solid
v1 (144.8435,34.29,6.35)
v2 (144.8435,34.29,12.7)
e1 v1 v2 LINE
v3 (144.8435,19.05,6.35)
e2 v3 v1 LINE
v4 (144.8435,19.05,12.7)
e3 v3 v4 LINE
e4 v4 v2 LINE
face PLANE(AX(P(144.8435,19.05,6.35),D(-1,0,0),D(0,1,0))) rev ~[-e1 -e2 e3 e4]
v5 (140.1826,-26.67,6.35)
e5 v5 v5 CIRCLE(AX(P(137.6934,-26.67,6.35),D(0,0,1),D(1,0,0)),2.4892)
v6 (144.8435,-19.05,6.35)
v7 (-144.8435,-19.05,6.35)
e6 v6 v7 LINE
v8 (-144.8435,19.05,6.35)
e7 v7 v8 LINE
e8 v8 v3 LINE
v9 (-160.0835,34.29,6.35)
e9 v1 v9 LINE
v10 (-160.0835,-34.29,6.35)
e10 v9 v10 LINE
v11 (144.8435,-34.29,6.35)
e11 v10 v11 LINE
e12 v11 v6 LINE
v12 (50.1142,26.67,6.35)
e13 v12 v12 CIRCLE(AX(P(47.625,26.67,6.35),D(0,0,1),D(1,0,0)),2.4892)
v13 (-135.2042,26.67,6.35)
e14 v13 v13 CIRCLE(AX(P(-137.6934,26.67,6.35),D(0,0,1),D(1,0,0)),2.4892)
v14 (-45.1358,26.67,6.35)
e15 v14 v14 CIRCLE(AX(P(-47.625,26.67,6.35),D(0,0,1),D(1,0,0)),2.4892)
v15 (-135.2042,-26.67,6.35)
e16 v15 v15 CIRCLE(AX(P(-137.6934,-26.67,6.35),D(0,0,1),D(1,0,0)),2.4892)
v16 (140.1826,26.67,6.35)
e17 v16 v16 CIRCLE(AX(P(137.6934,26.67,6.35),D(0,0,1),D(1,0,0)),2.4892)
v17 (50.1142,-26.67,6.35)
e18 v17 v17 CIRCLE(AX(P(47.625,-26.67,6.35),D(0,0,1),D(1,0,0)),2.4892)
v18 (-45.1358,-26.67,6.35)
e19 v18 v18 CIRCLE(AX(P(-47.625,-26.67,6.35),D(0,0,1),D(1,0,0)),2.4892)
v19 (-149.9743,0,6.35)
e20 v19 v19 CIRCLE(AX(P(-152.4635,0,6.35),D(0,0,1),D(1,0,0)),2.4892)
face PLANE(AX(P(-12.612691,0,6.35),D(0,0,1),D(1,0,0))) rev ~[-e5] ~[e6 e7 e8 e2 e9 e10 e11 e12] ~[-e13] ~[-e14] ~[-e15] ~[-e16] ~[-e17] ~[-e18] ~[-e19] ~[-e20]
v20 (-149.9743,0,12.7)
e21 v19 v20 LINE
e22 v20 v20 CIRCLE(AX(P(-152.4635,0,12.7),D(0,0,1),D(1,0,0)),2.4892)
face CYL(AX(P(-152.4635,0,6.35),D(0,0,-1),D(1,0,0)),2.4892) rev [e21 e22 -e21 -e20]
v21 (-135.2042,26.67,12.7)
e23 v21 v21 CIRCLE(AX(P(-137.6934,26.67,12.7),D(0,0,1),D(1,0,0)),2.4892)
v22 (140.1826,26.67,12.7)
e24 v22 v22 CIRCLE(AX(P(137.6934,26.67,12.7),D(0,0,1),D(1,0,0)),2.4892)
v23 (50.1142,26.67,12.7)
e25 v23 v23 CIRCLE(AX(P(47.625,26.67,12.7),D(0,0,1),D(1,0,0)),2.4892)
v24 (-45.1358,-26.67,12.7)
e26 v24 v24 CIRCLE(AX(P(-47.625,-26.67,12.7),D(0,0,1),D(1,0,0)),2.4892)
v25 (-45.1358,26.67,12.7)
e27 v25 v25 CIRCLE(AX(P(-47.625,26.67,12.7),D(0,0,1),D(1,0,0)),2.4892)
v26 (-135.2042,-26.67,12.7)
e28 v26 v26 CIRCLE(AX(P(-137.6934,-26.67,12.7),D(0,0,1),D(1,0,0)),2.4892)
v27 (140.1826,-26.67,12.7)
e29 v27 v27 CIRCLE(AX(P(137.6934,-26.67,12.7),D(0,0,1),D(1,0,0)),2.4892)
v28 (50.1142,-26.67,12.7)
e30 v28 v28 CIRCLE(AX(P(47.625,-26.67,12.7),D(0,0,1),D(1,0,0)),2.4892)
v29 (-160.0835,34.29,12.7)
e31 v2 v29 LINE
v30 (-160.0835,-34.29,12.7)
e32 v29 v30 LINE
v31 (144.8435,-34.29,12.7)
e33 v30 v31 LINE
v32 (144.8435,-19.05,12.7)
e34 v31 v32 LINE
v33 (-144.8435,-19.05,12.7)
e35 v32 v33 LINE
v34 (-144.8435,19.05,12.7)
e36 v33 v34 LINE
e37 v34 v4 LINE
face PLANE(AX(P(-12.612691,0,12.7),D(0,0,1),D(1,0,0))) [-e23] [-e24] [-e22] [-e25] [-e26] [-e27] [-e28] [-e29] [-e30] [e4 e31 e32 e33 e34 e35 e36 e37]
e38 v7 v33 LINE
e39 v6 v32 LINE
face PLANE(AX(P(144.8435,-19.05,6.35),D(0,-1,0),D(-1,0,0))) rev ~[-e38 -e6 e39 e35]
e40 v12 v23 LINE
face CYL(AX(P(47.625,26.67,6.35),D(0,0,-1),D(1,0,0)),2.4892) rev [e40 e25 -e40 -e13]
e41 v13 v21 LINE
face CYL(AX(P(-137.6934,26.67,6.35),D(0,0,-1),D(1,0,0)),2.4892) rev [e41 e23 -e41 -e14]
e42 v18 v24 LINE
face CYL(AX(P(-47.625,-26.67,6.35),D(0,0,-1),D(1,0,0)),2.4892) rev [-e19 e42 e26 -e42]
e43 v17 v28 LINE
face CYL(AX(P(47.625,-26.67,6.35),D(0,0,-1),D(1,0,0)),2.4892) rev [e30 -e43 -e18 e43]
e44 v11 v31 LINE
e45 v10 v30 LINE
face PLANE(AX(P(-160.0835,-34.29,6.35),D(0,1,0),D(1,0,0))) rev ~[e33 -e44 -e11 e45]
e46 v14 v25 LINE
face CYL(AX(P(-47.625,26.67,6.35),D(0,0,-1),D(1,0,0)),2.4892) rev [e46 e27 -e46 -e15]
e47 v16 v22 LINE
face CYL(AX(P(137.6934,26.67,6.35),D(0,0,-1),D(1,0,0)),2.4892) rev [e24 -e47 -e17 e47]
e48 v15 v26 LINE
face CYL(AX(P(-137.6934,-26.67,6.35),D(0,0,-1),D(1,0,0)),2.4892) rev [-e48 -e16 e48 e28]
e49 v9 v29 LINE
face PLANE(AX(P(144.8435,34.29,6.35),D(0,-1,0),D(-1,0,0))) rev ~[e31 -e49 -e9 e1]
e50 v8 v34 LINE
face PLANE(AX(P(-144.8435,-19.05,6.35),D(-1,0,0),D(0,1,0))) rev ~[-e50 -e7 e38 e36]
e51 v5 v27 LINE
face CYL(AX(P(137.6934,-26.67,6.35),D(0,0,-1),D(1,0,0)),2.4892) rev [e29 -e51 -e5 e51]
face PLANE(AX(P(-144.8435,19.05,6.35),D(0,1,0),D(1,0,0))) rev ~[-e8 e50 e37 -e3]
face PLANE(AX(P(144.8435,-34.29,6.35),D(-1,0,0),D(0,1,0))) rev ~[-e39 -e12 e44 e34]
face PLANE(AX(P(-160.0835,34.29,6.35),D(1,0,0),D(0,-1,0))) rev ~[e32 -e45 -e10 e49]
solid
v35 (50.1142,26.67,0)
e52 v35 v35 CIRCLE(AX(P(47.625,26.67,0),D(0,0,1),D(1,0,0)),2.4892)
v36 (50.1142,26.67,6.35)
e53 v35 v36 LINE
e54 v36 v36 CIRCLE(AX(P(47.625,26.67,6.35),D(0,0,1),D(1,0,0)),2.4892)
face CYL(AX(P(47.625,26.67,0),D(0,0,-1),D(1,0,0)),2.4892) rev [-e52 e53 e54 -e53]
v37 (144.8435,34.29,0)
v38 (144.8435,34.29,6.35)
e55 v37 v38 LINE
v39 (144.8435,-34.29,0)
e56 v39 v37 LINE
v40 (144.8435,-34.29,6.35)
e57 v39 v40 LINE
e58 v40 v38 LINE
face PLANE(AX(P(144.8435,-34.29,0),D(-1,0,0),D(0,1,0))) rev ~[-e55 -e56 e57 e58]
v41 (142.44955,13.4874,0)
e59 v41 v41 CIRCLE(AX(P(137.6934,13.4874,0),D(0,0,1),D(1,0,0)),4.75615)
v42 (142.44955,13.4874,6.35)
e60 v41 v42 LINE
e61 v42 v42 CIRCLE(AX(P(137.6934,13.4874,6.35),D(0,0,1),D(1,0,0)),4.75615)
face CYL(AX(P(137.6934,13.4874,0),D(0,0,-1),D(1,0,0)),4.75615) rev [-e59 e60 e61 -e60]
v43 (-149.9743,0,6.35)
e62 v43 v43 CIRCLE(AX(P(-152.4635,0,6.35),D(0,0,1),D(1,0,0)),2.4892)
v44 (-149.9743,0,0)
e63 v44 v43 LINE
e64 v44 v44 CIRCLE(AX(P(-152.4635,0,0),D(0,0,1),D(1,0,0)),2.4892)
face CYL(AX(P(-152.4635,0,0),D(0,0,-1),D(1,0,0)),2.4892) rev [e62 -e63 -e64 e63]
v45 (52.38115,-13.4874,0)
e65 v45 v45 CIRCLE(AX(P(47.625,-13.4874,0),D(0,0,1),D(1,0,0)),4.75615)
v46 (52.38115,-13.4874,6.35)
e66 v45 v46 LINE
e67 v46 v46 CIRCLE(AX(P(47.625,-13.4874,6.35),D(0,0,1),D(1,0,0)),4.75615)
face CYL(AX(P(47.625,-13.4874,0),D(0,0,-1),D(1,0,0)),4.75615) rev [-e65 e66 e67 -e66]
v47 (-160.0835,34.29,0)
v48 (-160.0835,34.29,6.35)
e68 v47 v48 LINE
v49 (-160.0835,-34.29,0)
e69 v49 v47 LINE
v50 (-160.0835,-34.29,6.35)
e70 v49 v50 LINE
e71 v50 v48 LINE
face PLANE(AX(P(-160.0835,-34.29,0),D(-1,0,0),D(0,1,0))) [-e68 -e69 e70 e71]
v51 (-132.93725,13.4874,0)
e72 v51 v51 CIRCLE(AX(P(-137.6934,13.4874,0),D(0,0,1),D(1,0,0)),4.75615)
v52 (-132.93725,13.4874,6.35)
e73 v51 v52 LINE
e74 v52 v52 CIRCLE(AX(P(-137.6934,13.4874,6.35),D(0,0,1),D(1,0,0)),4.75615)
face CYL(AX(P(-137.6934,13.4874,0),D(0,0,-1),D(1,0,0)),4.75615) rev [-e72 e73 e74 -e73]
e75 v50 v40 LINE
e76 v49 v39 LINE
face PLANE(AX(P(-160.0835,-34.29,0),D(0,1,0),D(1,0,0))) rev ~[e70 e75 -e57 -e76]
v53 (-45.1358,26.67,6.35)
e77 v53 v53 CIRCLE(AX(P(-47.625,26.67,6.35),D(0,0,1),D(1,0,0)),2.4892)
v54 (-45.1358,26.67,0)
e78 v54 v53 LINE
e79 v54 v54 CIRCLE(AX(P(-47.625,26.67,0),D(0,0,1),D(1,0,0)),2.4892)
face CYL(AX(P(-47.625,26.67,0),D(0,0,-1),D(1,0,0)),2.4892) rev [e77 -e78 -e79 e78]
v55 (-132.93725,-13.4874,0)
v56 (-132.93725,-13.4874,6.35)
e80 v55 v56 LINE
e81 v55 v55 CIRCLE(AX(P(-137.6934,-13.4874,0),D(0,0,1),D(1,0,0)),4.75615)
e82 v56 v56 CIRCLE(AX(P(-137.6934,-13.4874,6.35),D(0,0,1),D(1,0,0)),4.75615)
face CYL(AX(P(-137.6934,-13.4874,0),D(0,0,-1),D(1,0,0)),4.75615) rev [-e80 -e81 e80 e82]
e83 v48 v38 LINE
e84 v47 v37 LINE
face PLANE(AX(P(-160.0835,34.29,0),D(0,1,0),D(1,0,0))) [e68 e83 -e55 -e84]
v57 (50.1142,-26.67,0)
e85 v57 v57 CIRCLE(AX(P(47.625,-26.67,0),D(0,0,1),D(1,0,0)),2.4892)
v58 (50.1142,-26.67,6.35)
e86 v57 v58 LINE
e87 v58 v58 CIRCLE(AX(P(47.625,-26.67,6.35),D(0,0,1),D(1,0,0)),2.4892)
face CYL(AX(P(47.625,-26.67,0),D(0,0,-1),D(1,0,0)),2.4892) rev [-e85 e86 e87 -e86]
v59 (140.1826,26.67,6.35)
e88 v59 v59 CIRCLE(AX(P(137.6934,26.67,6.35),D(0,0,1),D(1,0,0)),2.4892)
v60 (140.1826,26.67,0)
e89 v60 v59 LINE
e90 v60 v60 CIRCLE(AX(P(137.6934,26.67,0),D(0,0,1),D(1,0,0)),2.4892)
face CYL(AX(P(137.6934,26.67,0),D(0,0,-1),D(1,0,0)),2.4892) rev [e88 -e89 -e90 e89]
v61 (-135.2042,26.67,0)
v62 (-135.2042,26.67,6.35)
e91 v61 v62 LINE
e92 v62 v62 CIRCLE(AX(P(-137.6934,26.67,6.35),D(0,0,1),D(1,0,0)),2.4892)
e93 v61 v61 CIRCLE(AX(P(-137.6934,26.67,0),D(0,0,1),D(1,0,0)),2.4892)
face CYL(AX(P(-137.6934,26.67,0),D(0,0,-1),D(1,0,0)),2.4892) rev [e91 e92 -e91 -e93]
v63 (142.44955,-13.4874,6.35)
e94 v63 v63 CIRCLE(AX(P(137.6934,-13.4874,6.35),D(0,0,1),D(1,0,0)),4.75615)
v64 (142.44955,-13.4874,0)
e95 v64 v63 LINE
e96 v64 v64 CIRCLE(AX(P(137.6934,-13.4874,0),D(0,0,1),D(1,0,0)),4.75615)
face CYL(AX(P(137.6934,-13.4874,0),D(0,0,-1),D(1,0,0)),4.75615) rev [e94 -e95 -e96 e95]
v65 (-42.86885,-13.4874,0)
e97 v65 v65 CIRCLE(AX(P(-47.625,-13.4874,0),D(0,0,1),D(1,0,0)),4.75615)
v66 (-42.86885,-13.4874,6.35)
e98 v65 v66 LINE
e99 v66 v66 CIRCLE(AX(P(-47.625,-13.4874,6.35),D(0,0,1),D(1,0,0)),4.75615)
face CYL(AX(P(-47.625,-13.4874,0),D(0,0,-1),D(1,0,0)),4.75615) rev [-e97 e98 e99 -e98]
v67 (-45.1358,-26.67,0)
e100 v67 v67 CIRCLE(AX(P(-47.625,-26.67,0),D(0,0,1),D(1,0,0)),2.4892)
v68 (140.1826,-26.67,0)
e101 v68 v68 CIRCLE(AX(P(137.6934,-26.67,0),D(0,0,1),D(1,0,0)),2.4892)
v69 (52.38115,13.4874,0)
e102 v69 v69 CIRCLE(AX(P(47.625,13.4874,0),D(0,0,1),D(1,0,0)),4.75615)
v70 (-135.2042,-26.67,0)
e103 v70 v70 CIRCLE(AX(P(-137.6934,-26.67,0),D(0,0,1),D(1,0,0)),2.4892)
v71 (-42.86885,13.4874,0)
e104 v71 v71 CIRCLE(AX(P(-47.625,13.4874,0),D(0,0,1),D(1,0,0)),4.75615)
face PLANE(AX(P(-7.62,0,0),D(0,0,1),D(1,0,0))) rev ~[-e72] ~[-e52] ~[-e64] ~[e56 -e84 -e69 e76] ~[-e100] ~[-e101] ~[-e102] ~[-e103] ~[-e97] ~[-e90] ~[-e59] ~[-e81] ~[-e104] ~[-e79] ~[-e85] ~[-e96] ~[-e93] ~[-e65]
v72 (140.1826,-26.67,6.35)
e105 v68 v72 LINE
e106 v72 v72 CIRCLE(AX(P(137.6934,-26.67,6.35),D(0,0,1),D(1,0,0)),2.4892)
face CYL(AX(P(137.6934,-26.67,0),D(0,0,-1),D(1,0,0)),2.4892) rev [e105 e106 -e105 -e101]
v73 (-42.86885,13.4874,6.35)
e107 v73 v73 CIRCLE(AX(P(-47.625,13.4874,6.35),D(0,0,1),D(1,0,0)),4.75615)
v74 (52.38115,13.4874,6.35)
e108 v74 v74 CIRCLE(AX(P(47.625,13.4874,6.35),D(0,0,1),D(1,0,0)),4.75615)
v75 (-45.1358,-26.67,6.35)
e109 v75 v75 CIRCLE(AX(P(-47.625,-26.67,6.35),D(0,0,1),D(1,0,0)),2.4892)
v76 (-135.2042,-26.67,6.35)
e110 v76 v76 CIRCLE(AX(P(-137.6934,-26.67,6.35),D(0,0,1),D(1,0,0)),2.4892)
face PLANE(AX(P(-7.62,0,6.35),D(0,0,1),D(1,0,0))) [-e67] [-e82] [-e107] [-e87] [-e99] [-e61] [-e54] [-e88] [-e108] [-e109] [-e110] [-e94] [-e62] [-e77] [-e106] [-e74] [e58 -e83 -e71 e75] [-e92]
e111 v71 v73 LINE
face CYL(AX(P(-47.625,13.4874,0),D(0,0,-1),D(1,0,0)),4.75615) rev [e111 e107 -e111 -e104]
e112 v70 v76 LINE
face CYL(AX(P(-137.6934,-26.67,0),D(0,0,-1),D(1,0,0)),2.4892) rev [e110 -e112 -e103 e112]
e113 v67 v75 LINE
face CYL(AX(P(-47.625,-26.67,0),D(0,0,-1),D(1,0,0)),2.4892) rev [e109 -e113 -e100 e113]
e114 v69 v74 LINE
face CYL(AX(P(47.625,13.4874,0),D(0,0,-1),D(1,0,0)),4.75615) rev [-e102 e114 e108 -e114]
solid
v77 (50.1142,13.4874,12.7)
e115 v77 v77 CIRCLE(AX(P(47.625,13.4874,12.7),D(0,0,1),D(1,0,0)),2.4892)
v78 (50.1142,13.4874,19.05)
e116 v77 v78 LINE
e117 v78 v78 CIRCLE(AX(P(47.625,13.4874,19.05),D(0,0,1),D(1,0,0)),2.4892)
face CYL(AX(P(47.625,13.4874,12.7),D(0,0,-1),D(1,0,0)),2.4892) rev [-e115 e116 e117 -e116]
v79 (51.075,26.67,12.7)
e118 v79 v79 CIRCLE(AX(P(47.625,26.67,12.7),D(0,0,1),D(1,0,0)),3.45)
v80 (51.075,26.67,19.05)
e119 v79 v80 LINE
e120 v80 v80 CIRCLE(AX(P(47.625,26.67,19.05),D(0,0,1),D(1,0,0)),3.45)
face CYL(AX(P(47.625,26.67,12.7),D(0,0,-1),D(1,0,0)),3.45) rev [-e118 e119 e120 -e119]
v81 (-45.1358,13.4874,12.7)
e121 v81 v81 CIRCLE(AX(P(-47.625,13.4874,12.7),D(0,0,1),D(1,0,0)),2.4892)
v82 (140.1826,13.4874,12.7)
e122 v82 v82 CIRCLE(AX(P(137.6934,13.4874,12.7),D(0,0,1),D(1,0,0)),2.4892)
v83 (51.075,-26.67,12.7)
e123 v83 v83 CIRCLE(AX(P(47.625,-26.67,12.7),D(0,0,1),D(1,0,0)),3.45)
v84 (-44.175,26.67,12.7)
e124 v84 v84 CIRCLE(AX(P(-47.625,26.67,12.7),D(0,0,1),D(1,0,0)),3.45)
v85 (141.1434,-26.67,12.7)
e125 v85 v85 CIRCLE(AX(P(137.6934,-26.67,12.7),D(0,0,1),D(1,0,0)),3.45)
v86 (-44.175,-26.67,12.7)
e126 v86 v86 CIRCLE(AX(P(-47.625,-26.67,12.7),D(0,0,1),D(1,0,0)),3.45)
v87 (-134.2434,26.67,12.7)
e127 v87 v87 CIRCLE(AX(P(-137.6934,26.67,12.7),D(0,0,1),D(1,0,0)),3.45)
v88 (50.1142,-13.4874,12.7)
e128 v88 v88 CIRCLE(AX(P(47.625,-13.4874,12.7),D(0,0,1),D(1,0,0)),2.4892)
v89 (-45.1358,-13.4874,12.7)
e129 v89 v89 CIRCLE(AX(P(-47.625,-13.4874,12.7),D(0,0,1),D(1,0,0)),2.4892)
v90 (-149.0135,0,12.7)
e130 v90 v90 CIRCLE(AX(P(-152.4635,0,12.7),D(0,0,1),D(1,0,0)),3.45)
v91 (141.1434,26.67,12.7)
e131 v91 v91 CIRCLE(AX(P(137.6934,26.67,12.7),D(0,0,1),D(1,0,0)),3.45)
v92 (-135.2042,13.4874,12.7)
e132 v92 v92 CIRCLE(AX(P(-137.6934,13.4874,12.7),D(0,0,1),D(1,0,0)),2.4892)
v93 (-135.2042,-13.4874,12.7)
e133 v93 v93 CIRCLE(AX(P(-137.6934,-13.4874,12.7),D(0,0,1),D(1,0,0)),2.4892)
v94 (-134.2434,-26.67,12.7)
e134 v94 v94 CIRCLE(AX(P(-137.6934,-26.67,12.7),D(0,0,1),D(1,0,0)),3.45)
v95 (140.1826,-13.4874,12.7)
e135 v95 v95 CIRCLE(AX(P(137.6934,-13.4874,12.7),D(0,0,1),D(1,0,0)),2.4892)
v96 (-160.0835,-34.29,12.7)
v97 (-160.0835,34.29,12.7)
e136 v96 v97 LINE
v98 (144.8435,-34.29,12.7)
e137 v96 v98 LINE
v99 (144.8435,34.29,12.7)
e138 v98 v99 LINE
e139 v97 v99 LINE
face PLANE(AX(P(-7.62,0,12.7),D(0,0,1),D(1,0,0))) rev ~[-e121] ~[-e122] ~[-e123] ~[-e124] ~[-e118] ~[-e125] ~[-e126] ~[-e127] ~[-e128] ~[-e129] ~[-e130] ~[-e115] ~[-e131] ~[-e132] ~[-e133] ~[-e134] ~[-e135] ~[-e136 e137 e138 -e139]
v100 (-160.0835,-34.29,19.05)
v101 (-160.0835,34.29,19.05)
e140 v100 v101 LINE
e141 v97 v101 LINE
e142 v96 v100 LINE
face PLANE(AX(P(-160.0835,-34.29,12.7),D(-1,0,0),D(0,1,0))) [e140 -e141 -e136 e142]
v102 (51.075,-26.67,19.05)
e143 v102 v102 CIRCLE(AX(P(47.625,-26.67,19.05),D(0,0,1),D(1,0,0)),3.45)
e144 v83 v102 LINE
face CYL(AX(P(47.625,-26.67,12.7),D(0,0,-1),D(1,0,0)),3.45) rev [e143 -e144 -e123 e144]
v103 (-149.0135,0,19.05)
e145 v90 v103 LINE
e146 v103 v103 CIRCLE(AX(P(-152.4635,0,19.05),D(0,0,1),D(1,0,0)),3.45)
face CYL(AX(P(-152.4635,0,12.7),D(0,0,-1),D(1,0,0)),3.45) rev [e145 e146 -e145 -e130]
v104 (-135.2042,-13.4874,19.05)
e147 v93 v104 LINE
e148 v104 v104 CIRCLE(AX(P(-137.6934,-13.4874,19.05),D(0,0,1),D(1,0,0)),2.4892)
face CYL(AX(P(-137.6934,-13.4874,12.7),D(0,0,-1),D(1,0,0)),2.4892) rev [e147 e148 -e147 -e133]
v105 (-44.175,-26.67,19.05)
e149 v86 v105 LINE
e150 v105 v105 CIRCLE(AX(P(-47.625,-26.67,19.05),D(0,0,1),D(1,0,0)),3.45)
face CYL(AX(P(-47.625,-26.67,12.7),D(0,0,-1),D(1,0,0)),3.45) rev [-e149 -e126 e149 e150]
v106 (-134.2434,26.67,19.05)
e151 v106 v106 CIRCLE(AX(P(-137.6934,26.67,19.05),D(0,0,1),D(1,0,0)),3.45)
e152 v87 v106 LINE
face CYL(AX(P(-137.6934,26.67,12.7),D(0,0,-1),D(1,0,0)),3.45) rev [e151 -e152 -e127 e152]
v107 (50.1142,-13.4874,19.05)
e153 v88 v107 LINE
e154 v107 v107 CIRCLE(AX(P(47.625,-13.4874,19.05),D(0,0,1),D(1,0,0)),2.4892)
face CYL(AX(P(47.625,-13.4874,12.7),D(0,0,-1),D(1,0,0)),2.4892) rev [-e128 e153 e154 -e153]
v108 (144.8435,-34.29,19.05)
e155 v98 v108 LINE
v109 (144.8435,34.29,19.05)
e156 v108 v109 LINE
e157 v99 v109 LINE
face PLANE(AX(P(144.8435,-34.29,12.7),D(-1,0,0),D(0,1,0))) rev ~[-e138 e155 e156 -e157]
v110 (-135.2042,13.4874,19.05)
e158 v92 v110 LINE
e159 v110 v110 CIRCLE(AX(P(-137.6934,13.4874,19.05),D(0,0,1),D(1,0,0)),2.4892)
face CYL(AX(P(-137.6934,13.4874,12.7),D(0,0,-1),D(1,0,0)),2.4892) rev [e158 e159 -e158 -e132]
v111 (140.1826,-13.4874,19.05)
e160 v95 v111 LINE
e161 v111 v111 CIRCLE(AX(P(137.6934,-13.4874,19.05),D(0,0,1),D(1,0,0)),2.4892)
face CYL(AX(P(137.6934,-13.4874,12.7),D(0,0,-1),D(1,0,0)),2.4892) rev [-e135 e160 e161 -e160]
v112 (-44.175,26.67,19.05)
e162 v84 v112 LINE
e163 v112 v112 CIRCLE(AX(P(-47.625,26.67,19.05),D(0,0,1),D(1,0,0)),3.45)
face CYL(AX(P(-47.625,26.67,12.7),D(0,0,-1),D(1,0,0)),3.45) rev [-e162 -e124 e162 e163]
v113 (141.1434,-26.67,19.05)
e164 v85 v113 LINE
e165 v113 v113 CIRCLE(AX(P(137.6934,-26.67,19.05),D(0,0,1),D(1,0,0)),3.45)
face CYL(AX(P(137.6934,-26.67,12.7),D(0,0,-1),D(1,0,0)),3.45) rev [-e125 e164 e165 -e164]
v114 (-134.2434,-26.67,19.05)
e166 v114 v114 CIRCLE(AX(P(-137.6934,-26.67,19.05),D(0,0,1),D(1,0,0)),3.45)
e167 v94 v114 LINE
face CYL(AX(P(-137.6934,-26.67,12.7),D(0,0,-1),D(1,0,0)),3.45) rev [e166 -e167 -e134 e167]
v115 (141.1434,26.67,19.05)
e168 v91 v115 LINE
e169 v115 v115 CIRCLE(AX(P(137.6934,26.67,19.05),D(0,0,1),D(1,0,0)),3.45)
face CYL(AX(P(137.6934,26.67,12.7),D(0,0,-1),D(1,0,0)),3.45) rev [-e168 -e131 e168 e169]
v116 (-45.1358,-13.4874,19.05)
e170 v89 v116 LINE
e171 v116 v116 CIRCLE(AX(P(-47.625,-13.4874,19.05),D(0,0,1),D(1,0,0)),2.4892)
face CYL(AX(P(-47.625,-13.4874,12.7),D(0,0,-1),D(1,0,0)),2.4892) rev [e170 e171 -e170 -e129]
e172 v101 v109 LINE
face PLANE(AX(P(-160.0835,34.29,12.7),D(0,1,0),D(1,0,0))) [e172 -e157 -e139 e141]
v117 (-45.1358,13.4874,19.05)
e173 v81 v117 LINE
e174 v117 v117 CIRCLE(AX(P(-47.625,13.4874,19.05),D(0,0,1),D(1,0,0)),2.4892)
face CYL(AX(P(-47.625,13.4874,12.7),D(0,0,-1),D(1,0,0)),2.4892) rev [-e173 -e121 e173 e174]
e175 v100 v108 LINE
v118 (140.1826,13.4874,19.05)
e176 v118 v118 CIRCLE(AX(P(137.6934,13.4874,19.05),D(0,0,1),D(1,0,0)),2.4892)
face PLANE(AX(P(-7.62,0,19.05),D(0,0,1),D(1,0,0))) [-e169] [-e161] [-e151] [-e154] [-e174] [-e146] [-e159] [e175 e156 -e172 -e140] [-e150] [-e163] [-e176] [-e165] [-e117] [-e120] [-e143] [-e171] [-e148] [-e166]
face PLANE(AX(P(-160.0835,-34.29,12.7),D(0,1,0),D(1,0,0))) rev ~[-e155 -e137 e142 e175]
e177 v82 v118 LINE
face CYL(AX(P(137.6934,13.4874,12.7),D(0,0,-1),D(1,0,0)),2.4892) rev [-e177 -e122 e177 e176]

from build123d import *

# Parameters (mm, degrees)
CROQUIS3_W              = 304.927
CROQUIS3_H              = 68.58
CROQUIS3_R              = 2.4892
CROQUIS3_R_2            = 4.75615
SALIENTE_EXTRUIR1_DEPTH = 6.35
CROQUIS4_R              = 2.4892
SALIENTE_EXTRUIR2_DEPTH = 6.35
CROQUIS7_W              = 304.927
CROQUIS7_H              = 68.58
CROQUIS7_R              = 2.4892
CROQUIS7_R_2            = 3.45
SALIENTE_EXTRUIR4_DEPTH = 6.35


with BuildPart() as part:
    # Croquis3 → Saliente-Extruir1 (new body)
    with BuildSketch(Plane.XY):
        with Locations((-7.62, 0)):
            Rectangle(CROQUIS3_W, CROQUIS3_H)
        with Locations((-137.6934, -26.67)):
            Circle(CROQUIS3_R, mode=Mode.SUBTRACT)
        with Locations((-47.625, -26.67)):
            Circle(CROQUIS3_R, mode=Mode.SUBTRACT)
        with Locations((-137.6934, -13.4874)):
            Circle(CROQUIS3_R_2, mode=Mode.SUBTRACT)
        with Locations((-47.625, -13.4874)):
            Circle(CROQUIS3_R_2, mode=Mode.SUBTRACT)
        with Locations((47.625, -26.67)):
            Circle(CROQUIS3_R, mode=Mode.SUBTRACT)
        with Locations((137.6934, -26.67)):
            Circle(CROQUIS3_R, mode=Mode.SUBTRACT)
        with Locations((47.625, -13.4874)):
            Circle(CROQUIS3_R_2, mode=Mode.SUBTRACT)
        with Locations((137.6934, -13.4874)):
            Circle(CROQUIS3_R_2, mode=Mode.SUBTRACT)
        with Locations((-152.4635, 0)):
            Circle(CROQUIS3_R, mode=Mode.SUBTRACT)
        with Locations((-137.6934, 13.4874)):
            Circle(CROQUIS3_R_2, mode=Mode.SUBTRACT)
        with Locations((-47.625, 13.4874)):
            Circle(CROQUIS3_R_2, mode=Mode.SUBTRACT)
        with Locations((-137.6934, 26.67)):
            Circle(CROQUIS3_R, mode=Mode.SUBTRACT)
        with Locations((-47.625, 26.67)):
            Circle(CROQUIS3_R, mode=Mode.SUBTRACT)
        with Locations((47.625, 13.4874)):
            Circle(CROQUIS3_R_2, mode=Mode.SUBTRACT)
        with Locations((137.6934, 13.4874)):
            Circle(CROQUIS3_R_2, mode=Mode.SUBTRACT)
        with Locations((47.625, 26.67)):
            Circle(CROQUIS3_R, mode=Mode.SUBTRACT)
        with Locations((137.6934, 26.67)):
            Circle(CROQUIS3_R, mode=Mode.SUBTRACT)
    extrude(amount=SALIENTE_EXTRUIR1_DEPTH)


with BuildPart() as body_2:
    # Croquis4 → Saliente-Extruir2 (new body)
    with BuildSketch(Plane.XY.offset(6.35)):
        Polygon((144.8435, -19.05), (-144.8435, -19.05), (-144.8435, 19.05), (144.8435, 19.05), (144.8435, 34.29), (-160.0835, 34.29), (-160.0835, -34.29), (144.8435, -34.29), align=None)
        with Locations((-137.6934, -26.67)):
            Circle(CROQUIS4_R, mode=Mode.SUBTRACT)
        with Locations((-47.625, -26.67)):
            Circle(CROQUIS4_R, mode=Mode.SUBTRACT)
        with Locations((47.625, -26.67)):
            Circle(CROQUIS4_R, mode=Mode.SUBTRACT)
        with Locations((137.6934, -26.67)):
            Circle(CROQUIS4_R, mode=Mode.SUBTRACT)
        with Locations((-152.4635, 0)):
            Circle(CROQUIS4_R, mode=Mode.SUBTRACT)
        with Locations((-137.6934, 26.67)):
            Circle(CROQUIS4_R, mode=Mode.SUBTRACT)
        with Locations((-47.625, 26.67)):
            Circle(CROQUIS4_R, mode=Mode.SUBTRACT)
        with Locations((47.625, 26.67)):
            Circle(CROQUIS4_R, mode=Mode.SUBTRACT)
        with Locations((137.6934, 26.67)):
            Circle(CROQUIS4_R, mode=Mode.SUBTRACT)
    extrude(amount=SALIENTE_EXTRUIR2_DEPTH)


with BuildPart() as body_3:
    # Croquis7 → Saliente-Extruir4 (new body)
    with BuildSketch(Plane.XY.offset(12.7)):
        with Locations((-7.62, 0)):
            Rectangle(CROQUIS7_W, CROQUIS7_H)
        with Locations((-137.6934, 13.4874)):
            Circle(CROQUIS7_R, mode=Mode.SUBTRACT)
        with Locations((-152.4635, 0)):
            Circle(CROQUIS7_R_2, mode=Mode.SUBTRACT)
        with Locations((-137.6934, 26.67)):
            Circle(CROQUIS7_R_2, mode=Mode.SUBTRACT)
        with Locations((-47.625, 26.67)):
            Circle(CROQUIS7_R_2, mode=Mode.SUBTRACT)
        with Locations((47.625, 26.67)):
            Circle(CROQUIS7_R_2, mode=Mode.SUBTRACT)
        with Locations((137.6934, 26.67)):
            Circle(CROQUIS7_R_2, mode=Mode.SUBTRACT)
        with Locations((137.6934, -26.67)):
            Circle(CROQUIS7_R_2, mode=Mode.SUBTRACT)
        with Locations((47.625, -26.67)):
            Circle(CROQUIS7_R_2, mode=Mode.SUBTRACT)
        with Locations((-47.625, -26.67)):
            Circle(CROQUIS7_R_2, mode=Mode.SUBTRACT)
        with Locations((-137.6934, -26.67)):
            Circle(CROQUIS7_R_2, mode=Mode.SUBTRACT)
        with Locations((-137.6934, -13.4874)):
            Circle(CROQUIS7_R, mode=Mode.SUBTRACT)
        with Locations((-47.625, 13.4874)):
            Circle(CROQUIS7_R, mode=Mode.SUBTRACT)
        with Locations((-47.625, -13.4874)):
            Circle(CROQUIS7_R, mode=Mode.SUBTRACT)
        with Locations((47.625, -13.4874)):
            Circle(CROQUIS7_R, mode=Mode.SUBTRACT)
        with Locations((47.625, 13.4874)):
            Circle(CROQUIS7_R, mode=Mode.SUBTRACT)
        with Locations((137.6934, 13.4874)):
            Circle(CROQUIS7_R, mode=Mode.SUBTRACT)
        with Locations((137.6934, -13.4874)):
            Circle(CROQUIS7_R, mode=Mode.SUBTRACT)
    extrude(amount=SALIENTE_EXTRUIR4_DEPTH)


solid = Compound([part.part, body_2.part, body_3.part])
